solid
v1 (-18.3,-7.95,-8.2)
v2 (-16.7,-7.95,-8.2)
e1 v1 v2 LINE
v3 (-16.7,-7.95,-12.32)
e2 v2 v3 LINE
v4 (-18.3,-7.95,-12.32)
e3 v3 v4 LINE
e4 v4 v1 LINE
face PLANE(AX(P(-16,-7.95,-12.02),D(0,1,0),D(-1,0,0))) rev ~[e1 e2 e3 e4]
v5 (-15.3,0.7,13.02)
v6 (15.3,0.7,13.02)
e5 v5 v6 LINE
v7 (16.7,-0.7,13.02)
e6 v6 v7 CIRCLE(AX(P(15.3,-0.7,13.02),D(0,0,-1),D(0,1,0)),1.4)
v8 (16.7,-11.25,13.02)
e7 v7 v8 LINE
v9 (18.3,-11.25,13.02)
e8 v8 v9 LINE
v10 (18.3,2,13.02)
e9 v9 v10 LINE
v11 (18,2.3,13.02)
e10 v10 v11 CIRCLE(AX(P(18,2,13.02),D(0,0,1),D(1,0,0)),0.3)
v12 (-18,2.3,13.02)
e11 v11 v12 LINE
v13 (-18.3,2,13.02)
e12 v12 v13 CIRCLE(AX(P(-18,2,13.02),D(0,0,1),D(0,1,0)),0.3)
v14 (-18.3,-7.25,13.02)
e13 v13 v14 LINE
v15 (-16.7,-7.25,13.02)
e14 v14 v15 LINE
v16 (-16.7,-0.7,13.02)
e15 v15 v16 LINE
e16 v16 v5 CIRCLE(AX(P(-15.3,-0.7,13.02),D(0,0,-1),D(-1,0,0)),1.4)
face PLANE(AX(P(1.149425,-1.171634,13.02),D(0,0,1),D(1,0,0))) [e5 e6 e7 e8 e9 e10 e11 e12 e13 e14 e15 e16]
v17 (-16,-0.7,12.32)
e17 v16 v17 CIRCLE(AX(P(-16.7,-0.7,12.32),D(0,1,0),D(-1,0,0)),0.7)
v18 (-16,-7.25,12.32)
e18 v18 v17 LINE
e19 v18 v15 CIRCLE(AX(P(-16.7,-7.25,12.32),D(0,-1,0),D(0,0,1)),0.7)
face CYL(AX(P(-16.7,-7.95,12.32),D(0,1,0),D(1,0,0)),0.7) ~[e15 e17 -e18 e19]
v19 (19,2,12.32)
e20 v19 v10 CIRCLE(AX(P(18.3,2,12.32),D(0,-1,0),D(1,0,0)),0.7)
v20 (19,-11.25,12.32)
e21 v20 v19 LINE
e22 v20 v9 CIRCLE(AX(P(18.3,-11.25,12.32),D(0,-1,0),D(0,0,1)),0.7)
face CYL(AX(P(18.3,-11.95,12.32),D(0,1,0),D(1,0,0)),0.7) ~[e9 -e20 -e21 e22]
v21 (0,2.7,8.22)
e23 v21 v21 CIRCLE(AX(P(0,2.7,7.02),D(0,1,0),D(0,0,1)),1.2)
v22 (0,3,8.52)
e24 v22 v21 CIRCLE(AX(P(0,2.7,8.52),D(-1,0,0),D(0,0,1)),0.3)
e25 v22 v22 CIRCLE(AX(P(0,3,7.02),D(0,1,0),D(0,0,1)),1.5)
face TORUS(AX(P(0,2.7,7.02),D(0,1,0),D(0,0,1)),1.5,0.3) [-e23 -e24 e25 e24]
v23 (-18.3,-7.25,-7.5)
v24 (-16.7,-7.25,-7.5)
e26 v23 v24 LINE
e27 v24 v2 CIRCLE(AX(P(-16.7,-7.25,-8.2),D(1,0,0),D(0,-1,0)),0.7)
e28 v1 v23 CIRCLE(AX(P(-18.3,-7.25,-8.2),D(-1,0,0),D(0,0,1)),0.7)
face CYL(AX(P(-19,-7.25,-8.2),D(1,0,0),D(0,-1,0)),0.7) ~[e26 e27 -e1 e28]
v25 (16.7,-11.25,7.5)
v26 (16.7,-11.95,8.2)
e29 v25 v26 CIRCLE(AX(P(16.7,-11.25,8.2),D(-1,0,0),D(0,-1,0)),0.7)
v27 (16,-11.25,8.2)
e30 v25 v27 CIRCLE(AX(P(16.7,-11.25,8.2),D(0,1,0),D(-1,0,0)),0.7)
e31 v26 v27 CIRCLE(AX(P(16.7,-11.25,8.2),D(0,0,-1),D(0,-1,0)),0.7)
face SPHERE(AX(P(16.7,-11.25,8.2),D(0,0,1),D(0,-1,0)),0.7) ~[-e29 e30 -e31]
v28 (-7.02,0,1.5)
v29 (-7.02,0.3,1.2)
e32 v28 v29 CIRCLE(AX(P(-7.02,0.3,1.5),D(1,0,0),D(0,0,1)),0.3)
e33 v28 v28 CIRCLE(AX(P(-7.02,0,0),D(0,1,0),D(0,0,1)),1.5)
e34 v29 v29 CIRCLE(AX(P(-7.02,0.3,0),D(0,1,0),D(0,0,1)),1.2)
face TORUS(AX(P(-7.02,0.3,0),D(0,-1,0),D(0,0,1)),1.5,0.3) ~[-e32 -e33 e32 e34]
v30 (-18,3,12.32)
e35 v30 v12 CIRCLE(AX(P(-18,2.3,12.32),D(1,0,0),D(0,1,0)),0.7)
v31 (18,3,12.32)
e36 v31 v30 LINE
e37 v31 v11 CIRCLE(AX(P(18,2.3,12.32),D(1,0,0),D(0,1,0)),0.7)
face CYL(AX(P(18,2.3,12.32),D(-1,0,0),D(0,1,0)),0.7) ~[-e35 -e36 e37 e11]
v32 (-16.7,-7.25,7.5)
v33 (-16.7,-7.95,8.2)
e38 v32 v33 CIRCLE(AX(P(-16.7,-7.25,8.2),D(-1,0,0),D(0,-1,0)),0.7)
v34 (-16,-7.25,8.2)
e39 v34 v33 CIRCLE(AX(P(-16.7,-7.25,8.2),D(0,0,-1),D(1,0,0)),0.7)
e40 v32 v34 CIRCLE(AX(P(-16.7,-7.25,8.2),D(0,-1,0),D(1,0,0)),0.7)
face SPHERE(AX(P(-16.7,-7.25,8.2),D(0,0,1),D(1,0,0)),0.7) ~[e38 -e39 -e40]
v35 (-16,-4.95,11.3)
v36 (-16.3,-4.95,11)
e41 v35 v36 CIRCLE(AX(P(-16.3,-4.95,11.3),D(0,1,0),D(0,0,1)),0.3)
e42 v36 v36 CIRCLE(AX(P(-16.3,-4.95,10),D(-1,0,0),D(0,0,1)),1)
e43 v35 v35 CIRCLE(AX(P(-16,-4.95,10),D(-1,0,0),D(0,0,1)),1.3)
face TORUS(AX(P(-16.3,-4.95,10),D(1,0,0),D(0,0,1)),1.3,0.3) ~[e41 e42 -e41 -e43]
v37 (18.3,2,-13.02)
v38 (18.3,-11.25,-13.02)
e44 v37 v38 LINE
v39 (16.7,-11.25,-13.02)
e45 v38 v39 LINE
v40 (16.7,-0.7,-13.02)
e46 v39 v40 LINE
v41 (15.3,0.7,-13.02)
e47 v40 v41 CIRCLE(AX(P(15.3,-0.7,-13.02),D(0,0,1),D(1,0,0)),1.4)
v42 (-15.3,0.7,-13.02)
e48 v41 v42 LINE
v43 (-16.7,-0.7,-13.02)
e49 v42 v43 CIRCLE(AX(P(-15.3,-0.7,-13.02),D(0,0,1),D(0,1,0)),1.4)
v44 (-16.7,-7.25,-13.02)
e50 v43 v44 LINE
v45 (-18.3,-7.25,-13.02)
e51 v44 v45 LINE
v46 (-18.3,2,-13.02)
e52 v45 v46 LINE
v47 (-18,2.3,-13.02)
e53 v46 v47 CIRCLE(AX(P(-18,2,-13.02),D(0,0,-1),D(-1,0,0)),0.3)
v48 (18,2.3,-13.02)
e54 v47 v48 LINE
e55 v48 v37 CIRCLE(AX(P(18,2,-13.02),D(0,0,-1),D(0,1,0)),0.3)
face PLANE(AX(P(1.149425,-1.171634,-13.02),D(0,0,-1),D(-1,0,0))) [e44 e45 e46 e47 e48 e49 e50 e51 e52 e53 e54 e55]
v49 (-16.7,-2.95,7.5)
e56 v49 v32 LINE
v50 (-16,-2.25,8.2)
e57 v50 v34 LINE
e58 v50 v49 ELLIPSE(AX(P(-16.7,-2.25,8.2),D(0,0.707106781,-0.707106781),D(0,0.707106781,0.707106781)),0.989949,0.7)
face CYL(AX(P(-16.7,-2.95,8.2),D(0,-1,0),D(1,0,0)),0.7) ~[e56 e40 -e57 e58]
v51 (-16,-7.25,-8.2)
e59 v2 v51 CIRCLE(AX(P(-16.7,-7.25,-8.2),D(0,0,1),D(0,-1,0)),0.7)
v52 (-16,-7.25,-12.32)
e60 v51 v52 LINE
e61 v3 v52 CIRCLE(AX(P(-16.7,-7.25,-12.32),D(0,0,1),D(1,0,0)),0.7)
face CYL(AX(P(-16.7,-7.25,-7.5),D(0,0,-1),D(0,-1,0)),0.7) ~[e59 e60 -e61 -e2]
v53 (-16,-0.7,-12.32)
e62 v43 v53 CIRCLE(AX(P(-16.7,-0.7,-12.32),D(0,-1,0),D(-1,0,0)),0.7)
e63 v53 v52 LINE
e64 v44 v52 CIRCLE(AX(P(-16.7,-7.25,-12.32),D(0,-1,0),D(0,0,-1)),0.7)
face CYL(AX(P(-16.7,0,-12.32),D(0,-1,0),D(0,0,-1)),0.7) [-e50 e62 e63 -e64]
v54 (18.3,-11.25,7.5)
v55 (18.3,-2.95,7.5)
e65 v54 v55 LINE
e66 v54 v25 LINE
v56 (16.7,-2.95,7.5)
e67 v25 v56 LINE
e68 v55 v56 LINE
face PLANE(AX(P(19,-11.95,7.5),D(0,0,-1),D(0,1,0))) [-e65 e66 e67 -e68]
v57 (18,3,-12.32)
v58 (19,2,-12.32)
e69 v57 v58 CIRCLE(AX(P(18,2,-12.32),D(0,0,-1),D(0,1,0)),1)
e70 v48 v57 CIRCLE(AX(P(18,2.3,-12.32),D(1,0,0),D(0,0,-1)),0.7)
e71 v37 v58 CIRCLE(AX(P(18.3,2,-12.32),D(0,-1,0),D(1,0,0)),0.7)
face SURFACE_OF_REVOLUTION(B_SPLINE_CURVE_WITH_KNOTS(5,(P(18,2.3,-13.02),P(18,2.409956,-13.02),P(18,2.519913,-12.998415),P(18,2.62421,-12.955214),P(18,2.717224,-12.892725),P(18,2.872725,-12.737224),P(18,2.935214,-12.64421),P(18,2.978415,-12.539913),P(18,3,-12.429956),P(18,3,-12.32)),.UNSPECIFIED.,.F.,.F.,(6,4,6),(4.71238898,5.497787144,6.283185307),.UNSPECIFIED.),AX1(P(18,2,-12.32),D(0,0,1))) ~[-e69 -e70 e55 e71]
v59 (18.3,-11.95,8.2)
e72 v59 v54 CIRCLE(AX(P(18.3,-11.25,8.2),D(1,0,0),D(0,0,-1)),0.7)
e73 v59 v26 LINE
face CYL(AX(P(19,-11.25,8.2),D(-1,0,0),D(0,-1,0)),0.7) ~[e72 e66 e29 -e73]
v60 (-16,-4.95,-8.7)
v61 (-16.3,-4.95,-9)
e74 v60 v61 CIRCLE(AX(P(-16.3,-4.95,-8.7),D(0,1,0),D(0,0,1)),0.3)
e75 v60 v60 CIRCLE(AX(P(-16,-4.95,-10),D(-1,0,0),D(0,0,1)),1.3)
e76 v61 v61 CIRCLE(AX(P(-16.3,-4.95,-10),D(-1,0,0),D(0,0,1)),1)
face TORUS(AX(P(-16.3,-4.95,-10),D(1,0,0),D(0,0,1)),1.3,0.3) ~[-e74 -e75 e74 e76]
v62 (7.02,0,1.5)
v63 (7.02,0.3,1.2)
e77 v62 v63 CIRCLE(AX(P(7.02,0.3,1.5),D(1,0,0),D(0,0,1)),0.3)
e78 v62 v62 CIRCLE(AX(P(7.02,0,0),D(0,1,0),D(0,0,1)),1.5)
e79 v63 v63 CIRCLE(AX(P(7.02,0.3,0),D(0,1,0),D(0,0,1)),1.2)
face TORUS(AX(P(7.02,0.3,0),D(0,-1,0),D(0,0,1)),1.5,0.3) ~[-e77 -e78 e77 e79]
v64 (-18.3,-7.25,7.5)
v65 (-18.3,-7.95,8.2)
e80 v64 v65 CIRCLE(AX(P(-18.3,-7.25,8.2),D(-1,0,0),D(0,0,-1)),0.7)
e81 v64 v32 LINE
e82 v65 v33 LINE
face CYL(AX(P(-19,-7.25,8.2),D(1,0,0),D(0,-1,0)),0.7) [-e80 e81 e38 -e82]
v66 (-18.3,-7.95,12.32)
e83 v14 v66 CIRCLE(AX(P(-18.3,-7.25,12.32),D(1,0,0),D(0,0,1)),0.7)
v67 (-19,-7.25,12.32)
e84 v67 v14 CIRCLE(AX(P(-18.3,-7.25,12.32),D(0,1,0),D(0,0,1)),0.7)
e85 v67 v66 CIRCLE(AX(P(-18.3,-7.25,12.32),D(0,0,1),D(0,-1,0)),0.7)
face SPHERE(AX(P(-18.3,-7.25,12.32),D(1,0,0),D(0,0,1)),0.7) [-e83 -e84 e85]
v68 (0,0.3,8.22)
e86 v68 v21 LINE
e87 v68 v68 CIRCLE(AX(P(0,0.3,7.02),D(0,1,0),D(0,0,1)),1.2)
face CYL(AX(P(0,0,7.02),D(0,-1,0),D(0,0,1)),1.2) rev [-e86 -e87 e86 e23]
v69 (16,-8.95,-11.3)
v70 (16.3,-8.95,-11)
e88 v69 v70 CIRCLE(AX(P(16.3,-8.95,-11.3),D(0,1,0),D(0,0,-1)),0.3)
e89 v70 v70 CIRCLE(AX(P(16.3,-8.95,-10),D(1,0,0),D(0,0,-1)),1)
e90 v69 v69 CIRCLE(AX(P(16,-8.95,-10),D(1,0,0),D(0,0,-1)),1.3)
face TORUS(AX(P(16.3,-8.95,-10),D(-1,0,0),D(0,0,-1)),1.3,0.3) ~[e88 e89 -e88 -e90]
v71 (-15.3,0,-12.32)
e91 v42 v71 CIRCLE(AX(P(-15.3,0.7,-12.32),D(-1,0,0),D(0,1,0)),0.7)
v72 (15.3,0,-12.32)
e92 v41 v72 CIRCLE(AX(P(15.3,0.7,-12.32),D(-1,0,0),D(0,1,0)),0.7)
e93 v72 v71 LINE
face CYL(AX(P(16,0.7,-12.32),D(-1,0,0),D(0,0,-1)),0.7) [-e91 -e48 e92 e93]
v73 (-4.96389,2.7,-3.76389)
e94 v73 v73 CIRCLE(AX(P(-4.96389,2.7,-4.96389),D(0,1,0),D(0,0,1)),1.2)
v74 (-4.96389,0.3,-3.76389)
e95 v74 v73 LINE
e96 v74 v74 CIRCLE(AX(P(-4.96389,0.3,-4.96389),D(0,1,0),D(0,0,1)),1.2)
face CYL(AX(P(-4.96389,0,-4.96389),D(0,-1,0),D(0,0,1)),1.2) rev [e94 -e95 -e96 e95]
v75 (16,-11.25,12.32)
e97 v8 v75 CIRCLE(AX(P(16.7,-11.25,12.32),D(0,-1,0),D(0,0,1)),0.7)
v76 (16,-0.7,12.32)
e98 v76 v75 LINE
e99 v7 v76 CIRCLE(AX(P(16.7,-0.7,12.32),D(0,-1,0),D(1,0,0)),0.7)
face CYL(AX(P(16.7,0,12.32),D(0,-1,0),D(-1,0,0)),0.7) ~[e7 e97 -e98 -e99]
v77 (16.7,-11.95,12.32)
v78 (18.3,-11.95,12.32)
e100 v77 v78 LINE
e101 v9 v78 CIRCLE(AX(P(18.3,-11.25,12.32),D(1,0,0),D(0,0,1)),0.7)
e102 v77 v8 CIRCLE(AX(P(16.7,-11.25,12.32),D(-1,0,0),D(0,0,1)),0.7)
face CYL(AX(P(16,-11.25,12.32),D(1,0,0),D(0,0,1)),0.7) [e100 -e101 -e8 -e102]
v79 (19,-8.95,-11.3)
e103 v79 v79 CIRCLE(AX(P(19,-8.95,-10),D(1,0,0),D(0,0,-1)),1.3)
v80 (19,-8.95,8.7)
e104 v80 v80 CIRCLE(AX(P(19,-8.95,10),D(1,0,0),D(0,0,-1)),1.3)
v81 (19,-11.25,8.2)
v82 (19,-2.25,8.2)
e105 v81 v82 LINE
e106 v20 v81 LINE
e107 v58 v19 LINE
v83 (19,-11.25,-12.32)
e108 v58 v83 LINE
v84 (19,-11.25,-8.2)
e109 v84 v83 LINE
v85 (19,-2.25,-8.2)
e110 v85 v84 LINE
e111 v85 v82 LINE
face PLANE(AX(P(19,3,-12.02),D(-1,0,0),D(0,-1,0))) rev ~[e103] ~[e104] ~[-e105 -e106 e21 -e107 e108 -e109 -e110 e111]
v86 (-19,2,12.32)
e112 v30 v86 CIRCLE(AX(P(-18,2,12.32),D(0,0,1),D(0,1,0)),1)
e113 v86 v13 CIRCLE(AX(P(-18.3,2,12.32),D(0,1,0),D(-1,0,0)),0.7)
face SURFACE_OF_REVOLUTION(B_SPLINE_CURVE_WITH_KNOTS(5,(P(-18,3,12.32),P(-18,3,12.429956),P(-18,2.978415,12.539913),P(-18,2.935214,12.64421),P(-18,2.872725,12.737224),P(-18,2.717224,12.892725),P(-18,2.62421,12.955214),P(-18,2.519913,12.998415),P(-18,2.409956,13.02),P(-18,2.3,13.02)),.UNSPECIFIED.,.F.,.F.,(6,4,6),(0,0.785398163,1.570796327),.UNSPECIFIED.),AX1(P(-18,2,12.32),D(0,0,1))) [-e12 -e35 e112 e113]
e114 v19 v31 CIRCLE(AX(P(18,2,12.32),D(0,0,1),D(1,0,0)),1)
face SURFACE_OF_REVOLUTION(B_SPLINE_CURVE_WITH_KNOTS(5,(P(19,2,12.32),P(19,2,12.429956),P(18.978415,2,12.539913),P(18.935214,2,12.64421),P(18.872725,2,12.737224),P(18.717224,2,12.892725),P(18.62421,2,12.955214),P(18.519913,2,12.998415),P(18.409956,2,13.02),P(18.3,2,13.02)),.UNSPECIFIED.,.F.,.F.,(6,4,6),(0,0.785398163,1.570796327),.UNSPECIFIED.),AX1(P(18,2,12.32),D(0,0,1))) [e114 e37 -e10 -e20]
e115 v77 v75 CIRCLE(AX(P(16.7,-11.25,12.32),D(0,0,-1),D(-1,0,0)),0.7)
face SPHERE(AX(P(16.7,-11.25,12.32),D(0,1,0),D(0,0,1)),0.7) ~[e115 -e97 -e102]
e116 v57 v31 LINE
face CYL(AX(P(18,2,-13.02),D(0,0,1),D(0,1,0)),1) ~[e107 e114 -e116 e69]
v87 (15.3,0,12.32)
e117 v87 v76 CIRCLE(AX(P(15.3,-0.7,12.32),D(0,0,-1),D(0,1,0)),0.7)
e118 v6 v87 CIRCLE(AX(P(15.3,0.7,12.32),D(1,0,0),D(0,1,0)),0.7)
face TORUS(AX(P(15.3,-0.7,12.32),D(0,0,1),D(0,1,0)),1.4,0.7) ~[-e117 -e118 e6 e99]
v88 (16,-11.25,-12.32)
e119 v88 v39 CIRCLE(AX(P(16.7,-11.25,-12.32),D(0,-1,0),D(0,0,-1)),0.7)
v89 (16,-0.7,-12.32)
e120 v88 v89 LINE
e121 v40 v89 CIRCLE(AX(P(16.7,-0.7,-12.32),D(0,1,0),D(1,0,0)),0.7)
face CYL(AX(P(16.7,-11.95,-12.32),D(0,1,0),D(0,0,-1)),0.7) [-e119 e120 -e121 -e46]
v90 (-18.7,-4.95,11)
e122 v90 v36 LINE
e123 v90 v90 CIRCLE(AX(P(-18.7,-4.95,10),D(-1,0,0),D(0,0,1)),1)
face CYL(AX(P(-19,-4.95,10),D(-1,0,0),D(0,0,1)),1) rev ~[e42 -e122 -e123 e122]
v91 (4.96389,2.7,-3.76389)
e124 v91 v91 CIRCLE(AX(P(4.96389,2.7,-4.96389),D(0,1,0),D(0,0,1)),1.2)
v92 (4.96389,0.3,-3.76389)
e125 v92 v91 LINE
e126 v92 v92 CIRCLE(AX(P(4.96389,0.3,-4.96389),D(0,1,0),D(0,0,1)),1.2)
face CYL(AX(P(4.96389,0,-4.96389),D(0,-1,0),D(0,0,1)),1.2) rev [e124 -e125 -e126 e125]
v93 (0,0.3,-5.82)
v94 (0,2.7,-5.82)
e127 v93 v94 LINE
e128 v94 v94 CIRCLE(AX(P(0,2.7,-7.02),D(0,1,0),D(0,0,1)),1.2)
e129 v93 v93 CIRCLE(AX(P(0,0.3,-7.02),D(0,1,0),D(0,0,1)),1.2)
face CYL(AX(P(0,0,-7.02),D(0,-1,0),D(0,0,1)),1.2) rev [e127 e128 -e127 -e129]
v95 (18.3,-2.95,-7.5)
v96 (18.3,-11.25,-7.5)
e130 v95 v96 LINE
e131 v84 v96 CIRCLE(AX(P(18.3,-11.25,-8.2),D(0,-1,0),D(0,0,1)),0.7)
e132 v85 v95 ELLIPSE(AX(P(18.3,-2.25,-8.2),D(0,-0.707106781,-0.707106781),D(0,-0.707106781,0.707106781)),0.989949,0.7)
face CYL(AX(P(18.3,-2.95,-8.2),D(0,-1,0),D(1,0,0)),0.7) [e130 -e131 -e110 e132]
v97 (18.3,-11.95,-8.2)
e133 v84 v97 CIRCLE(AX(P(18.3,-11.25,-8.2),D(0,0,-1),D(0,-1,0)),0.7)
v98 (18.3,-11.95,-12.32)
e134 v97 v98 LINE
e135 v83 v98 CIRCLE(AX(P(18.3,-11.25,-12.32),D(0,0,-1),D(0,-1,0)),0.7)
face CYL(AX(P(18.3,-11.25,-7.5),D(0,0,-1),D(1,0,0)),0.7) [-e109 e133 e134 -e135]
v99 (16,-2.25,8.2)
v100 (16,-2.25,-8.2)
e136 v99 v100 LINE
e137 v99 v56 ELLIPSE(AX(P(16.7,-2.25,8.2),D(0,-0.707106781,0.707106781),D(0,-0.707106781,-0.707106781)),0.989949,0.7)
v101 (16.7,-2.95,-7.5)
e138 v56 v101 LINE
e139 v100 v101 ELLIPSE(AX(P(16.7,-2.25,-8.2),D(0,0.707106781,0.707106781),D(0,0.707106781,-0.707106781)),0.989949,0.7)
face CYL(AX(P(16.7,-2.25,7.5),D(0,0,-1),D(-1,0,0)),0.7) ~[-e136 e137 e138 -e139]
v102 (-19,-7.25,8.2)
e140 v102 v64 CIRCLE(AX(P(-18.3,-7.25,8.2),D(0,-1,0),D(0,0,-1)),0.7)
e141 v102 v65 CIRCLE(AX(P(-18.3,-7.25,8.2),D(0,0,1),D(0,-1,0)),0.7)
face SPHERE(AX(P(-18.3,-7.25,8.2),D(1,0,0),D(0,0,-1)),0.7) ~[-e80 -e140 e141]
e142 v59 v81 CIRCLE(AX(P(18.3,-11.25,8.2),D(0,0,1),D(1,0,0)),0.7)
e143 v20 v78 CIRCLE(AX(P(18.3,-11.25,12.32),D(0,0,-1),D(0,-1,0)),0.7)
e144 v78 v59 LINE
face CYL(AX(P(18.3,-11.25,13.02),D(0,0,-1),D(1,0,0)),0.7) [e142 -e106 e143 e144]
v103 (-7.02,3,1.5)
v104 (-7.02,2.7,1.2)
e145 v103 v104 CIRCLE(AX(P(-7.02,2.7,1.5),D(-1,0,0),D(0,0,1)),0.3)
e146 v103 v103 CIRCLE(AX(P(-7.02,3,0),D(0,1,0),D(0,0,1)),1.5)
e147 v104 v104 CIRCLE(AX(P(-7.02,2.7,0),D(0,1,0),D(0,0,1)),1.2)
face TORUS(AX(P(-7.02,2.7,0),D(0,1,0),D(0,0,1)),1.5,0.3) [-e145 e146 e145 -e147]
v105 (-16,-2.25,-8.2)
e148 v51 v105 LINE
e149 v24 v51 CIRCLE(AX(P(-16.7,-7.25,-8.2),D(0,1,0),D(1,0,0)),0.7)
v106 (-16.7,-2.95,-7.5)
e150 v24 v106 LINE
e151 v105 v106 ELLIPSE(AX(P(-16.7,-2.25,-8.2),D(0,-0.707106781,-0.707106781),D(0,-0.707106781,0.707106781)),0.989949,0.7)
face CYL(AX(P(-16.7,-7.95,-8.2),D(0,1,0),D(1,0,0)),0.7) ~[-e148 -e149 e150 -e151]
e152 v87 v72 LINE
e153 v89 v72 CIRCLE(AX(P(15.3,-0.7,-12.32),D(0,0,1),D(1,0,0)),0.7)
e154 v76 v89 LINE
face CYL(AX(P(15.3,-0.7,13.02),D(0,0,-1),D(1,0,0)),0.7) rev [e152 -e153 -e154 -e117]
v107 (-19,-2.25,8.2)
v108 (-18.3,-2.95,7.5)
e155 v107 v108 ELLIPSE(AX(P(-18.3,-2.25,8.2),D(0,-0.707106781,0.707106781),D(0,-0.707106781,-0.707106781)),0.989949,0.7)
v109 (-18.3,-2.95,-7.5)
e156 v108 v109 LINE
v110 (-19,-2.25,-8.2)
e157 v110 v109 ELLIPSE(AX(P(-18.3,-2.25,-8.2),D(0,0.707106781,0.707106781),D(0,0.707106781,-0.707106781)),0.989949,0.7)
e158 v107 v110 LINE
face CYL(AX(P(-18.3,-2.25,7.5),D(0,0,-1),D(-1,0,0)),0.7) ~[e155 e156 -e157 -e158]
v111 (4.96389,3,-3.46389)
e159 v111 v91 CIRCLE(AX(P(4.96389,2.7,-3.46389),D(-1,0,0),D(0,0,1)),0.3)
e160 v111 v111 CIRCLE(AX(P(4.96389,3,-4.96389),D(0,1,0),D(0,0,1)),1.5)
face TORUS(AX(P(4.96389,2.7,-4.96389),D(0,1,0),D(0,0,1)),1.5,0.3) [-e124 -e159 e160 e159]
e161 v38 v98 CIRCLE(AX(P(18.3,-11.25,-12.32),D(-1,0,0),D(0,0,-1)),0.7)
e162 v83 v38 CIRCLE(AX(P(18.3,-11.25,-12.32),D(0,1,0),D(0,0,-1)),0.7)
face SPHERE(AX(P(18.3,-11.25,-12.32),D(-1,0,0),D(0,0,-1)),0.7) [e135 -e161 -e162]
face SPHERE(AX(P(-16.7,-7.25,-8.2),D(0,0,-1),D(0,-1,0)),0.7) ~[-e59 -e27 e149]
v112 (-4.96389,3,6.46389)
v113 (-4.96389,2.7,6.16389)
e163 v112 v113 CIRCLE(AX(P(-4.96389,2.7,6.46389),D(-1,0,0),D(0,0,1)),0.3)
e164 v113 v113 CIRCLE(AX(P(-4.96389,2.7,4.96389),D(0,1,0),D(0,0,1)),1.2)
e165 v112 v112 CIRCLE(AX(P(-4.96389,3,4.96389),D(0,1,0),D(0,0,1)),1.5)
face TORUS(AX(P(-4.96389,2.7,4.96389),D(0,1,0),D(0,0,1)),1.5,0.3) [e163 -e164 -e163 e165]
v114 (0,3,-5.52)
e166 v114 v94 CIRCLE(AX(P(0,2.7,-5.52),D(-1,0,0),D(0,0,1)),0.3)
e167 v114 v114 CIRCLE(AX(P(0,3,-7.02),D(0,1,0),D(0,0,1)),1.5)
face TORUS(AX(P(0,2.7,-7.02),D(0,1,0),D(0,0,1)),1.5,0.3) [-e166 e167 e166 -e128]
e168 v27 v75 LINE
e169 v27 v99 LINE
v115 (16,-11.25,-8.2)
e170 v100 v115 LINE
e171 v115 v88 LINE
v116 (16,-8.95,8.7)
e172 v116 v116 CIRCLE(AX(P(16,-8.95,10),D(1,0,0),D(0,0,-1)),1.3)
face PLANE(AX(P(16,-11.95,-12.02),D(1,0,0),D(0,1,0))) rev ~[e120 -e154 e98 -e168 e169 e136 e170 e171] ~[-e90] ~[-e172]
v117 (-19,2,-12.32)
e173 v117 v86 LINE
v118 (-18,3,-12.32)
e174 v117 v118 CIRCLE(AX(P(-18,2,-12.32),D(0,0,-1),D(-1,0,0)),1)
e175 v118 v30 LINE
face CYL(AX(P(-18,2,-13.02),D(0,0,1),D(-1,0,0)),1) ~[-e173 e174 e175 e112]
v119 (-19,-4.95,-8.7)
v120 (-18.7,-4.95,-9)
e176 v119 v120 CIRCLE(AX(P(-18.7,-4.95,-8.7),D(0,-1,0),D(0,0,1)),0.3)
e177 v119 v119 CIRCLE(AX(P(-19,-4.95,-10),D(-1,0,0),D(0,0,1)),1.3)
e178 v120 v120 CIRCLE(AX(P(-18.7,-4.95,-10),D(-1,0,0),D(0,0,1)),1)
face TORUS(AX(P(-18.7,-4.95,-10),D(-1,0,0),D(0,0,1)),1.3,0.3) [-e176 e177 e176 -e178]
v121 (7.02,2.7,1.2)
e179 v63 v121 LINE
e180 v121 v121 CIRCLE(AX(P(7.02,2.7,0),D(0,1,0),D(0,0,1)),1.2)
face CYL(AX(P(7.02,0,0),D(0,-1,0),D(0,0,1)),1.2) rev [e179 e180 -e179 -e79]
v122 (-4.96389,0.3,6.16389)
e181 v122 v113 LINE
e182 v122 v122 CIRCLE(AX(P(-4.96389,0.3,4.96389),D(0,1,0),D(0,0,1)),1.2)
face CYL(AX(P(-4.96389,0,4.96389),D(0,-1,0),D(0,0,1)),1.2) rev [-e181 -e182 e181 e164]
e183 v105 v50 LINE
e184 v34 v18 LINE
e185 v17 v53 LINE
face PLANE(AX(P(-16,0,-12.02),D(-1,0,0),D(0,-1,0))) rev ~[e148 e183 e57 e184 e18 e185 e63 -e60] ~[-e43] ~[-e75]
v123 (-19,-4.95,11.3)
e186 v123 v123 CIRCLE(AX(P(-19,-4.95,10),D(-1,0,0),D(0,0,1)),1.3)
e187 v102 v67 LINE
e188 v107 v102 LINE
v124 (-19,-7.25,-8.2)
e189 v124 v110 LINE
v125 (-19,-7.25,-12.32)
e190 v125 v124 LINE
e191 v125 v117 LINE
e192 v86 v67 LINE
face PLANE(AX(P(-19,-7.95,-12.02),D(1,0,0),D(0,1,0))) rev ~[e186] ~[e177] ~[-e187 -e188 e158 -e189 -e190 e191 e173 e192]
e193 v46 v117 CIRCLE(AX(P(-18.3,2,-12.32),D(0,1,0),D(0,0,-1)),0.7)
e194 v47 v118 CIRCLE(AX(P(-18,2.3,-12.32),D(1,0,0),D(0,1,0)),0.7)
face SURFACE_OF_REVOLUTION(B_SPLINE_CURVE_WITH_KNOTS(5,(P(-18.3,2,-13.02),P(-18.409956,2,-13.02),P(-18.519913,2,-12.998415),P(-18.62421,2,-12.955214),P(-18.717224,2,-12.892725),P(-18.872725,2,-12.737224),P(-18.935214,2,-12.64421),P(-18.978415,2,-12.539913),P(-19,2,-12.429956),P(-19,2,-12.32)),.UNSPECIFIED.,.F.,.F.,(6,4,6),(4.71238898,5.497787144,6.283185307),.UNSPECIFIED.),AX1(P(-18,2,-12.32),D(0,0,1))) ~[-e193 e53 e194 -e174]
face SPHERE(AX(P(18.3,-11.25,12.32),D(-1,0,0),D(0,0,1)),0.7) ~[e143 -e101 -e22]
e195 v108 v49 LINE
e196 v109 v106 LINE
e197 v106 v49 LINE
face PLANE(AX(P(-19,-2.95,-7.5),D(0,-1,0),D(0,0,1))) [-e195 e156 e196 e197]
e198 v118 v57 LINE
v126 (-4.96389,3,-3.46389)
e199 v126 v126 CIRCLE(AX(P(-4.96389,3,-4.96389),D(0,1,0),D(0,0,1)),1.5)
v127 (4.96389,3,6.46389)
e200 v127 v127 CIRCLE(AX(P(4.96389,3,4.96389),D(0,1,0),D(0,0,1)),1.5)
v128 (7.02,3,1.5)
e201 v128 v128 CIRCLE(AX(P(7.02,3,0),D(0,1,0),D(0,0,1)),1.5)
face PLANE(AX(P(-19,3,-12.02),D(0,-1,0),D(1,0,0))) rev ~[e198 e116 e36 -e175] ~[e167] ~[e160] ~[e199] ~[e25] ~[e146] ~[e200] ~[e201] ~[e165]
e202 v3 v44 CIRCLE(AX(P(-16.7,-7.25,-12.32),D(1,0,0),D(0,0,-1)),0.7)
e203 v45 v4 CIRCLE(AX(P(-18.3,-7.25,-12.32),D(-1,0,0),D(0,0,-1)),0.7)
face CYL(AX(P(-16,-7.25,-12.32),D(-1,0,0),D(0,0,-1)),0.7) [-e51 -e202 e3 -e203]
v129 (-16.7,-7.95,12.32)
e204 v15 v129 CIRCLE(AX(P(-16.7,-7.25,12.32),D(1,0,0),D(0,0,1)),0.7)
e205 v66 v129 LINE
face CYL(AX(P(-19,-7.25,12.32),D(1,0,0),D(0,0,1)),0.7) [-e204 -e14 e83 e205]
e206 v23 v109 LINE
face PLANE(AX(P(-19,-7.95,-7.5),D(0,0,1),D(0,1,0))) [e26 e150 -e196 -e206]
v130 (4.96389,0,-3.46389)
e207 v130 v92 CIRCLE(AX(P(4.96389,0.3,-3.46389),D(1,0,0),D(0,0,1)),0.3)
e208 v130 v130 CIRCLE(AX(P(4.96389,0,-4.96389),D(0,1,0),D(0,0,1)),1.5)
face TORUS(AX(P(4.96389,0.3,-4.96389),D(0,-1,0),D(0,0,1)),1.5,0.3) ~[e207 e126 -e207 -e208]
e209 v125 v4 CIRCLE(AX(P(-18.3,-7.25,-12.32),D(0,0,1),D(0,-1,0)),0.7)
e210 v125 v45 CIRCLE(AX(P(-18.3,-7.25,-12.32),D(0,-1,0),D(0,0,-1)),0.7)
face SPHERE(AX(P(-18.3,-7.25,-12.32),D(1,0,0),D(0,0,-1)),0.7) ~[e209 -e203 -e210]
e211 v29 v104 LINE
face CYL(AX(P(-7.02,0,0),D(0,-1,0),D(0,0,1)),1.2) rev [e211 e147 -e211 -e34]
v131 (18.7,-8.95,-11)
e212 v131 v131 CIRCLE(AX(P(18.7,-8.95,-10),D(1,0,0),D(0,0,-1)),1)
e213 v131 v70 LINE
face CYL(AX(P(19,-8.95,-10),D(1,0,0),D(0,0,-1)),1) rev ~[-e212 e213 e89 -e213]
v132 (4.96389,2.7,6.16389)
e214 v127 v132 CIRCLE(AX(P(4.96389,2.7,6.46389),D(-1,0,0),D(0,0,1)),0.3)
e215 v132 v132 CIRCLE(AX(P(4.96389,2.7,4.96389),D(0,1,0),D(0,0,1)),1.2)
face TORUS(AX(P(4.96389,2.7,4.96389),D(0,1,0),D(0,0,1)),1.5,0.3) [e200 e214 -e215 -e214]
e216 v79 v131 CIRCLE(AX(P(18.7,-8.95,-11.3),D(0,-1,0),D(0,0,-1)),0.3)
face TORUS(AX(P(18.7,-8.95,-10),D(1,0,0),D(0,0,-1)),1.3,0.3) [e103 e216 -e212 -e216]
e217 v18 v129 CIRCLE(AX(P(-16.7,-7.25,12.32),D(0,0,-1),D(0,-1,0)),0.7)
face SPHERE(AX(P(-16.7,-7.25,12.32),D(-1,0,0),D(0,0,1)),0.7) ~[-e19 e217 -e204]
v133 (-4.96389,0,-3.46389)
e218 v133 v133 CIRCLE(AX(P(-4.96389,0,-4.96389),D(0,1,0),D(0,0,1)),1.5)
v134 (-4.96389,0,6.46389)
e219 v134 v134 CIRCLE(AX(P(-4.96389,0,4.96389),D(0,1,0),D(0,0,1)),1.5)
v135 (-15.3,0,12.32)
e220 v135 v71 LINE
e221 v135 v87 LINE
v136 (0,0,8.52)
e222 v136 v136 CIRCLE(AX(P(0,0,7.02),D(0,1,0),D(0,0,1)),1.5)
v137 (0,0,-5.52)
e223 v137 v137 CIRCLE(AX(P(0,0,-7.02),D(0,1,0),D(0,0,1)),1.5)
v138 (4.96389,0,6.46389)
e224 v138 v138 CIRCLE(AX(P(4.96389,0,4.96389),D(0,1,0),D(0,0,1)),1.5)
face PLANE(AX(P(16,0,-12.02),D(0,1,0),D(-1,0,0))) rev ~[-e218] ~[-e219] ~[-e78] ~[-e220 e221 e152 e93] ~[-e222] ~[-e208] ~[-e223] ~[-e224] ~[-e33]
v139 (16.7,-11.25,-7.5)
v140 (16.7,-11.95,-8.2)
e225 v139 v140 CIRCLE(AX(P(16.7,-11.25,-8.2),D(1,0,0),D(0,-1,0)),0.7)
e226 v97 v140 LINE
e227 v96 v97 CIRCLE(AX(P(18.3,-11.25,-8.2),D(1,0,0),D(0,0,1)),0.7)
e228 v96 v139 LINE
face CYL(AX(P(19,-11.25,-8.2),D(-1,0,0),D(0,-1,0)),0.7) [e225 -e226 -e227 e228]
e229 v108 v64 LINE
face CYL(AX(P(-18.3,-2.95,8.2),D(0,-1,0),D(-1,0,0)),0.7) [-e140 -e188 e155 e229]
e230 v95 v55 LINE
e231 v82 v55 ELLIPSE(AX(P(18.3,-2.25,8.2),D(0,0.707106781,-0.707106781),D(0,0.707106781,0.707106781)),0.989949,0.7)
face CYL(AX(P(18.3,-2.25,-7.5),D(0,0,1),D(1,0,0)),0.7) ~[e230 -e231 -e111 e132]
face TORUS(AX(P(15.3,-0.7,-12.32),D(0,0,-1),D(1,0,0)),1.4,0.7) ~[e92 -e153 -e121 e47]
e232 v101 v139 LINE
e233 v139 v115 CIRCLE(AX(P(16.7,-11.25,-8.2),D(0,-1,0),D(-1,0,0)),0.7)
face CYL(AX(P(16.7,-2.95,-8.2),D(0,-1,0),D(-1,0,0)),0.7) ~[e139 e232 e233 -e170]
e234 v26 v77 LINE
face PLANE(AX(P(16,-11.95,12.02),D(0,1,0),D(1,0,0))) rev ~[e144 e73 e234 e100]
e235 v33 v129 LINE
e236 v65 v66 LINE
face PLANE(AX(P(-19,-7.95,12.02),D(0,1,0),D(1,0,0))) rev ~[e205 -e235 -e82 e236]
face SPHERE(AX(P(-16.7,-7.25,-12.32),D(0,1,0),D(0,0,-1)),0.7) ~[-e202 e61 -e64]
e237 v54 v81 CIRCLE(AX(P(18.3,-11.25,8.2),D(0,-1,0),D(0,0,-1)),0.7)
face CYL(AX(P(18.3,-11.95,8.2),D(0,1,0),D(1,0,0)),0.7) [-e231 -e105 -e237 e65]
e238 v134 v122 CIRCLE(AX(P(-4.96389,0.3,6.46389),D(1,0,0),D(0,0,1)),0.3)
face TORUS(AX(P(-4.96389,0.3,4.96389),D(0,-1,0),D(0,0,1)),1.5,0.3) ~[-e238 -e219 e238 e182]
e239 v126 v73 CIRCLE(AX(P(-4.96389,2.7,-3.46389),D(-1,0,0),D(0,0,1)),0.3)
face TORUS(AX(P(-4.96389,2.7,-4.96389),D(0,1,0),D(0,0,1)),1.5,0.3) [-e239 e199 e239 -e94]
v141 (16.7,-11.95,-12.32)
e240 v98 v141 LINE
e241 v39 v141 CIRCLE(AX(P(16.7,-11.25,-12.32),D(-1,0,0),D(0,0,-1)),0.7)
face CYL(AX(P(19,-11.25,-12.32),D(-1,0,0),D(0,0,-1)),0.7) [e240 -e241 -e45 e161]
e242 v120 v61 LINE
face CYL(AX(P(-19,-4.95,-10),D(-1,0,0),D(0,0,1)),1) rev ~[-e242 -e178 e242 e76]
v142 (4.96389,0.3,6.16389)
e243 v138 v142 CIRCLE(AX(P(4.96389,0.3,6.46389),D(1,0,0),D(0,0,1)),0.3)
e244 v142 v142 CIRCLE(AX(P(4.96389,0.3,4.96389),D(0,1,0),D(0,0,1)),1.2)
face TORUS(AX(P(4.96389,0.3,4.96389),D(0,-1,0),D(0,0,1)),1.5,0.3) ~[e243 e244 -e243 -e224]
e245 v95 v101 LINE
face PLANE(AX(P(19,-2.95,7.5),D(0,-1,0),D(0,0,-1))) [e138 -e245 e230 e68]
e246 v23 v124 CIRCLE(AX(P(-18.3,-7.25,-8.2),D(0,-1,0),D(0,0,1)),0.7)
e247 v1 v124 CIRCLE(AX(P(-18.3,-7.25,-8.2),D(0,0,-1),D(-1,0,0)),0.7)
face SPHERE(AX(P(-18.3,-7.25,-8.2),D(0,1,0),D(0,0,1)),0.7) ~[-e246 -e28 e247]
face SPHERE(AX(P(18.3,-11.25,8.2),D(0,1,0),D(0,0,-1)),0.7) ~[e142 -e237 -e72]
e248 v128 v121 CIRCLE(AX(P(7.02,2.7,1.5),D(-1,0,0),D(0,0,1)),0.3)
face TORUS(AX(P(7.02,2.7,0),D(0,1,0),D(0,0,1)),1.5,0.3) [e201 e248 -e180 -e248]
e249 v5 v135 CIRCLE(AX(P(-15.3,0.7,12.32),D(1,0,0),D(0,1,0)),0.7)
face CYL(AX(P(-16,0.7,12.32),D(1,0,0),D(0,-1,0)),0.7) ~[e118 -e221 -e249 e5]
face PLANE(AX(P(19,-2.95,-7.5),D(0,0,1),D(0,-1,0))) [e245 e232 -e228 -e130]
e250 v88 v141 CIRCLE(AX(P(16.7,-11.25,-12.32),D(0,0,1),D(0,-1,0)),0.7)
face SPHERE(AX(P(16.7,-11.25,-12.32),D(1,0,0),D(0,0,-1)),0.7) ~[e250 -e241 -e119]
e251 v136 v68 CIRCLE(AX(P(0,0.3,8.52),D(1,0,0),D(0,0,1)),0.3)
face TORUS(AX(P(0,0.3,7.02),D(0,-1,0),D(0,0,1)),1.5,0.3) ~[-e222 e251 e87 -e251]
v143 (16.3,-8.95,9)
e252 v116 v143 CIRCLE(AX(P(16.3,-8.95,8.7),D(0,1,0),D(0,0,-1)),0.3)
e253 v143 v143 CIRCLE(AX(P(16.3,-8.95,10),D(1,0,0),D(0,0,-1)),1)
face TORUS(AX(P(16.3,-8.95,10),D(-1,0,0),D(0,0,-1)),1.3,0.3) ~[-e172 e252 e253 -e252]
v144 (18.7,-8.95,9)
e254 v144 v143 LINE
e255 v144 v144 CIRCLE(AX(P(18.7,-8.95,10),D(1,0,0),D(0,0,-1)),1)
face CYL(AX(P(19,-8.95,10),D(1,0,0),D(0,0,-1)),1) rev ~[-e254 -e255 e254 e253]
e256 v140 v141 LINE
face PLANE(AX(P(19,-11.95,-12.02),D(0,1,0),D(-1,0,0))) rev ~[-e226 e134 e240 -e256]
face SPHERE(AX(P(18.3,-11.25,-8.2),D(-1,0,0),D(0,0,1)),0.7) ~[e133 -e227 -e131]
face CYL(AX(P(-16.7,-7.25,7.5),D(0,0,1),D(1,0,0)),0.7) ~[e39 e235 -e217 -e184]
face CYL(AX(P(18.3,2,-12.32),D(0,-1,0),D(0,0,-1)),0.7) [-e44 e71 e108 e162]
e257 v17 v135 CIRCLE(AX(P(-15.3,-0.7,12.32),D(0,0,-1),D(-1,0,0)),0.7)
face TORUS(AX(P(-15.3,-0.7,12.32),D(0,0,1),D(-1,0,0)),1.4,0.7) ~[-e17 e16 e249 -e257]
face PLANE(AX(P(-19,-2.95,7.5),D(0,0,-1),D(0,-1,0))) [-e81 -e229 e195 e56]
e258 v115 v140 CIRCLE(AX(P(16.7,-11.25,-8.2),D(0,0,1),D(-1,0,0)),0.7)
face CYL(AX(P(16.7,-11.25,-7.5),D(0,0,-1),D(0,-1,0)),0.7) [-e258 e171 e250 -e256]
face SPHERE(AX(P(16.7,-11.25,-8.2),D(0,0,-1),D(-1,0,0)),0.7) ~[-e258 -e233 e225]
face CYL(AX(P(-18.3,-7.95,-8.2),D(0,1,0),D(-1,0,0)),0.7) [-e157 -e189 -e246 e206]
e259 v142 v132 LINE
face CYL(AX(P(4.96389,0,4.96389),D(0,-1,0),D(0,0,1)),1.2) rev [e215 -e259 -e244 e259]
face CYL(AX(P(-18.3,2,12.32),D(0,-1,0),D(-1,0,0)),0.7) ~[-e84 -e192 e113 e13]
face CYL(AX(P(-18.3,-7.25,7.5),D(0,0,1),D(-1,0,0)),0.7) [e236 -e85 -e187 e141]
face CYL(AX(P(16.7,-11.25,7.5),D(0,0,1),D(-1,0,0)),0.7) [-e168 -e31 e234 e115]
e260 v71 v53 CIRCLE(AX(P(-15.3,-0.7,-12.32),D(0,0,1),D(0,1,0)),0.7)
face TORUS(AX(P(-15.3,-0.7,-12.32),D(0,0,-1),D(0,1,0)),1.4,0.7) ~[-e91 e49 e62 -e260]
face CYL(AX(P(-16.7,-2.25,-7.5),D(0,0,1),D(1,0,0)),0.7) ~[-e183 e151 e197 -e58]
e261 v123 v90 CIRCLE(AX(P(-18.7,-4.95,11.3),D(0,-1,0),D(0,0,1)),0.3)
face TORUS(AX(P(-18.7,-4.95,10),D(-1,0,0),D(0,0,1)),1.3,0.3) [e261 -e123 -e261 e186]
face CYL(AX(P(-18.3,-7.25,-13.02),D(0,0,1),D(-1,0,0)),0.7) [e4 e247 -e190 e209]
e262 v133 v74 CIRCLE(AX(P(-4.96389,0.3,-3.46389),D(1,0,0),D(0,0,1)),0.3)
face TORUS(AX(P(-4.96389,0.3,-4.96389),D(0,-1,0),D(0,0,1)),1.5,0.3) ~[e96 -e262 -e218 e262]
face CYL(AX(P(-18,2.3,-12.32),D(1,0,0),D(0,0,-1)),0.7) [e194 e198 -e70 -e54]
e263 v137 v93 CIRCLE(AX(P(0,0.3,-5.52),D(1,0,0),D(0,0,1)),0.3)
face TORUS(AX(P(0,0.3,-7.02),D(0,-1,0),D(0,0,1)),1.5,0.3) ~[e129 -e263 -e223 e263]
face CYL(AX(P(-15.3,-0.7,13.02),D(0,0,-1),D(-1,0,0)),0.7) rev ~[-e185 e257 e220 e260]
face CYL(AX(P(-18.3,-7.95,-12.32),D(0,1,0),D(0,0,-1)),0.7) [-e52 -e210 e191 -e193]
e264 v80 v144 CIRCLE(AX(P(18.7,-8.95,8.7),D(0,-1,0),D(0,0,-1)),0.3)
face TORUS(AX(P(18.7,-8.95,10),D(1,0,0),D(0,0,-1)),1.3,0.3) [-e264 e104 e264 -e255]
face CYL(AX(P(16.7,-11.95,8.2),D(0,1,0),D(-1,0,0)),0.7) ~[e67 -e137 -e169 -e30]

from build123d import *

# Parameters (mm, degrees)
SKETCH1_W           = 38
SKETCH1_H           = 24.04
SKETCH1_R           = 1.2
BOSS_EXTRUDE1_DEPTH = 3
SKETCH2_R           = 1
BOSS_EXTRUDE2_DEPTH = 3
SKETCH3_R           = 1
BOSS_EXTRUDE3_DEPTH = 3
EXTRUDE_1_DEPTH     = 1
EXTRUDE_2_DEPTH     = 1
FILLET_1_R          = 1
FILLET_2_R          = 1
FILLET_3_R          = 0.7
FILLET_4_R          = 0.3


with BuildPart() as part:
    # Sketch1 → Boss-Extrude1 (new body)
    with BuildSketch(Plane(origin=(0, 0, 0), x_dir=(1, 0, 0), z_dir=(0, 1, 0))):
        Rectangle(SKETCH1_W, SKETCH1_H)
        with Locations(Location((0, 7.02, 0), (0, 0, 270))):
            Circle(SKETCH1_R, mode=Mode.SUBTRACT)
        with Locations(Location((4.963889604, 4.963889604, 0), (0, 0, 270))):
            Circle(SKETCH1_R, mode=Mode.SUBTRACT)
        with Locations(Location((7.02, 0, 0), (0, 0, 270))):
            Circle(SKETCH1_R, mode=Mode.SUBTRACT)
        with Locations(Location((4.963889604, -4.963889604, 0), (0, 0, 270))):
            Circle(SKETCH1_R, mode=Mode.SUBTRACT)
        with Locations(Location((0, -7.02, 0), (0, 0, 270))):
            Circle(SKETCH1_R, mode=Mode.SUBTRACT)
        with Locations(Location((-4.963889604, -4.963889604, 0), (0, 0, 270))):
            Circle(SKETCH1_R, mode=Mode.SUBTRACT)
        with Locations(Location((-7.02, 0, 0), (0, 0, 270))):
            Circle(SKETCH1_R, mode=Mode.SUBTRACT)
        with Locations(Location((-4.963889604, 4.963889604, 0), (0, 0, 270))):
            Circle(SKETCH1_R, mode=Mode.SUBTRACT)
    extrude(amount=BOSS_EXTRUDE1_DEPTH)

    # Sketch2 → Boss-Extrude2 (add)
    # profile 1 of 2: a face of its own
    with BuildSketch(Plane(origin=(19, 0, 0), x_dir=(0, 0, -1), z_dir=(1, 0, 0))):
        Polygon((-7.5, -2.95), (0, -2.95), (0, 0), (-12.02, 0), (-12.02, -11.95), (-7.5, -11.95), align=None)
        with Locations((-10, -8.95)):
            Circle(SKETCH2_R, mode=Mode.SUBTRACT)
    # profile 2 of 2: a face of its own
    with BuildSketch(Plane(origin=(19, 0, 0), x_dir=(0, 0, -1), z_dir=(1, 0, 0))):
        Polygon((7.5, -2.95), (7.5, -11.95), (12.02, -11.95), (12.02, 0), (0, 0), (0, -2.95), align=None)
        with Locations((10, -8.95)):
            Circle(SKETCH2_R, mode=Mode.SUBTRACT)
    extrude(amount=-BOSS_EXTRUDE2_DEPTH)

    # Sketch3 → Boss-Extrude3 (add)
    # profile 1 of 2: a face of its own
    with BuildSketch(Plane.ZY.offset(19)):
        Polygon((-7.5, -2.95), (0, -2.95), (0, 0), (-12.02, 0), (-12.02, -7.95), (-7.5, -7.95), align=None)
        with Locations((-10, -4.95)):
            Circle(SKETCH3_R, mode=Mode.SUBTRACT)
    # profile 2 of 2: a face of its own
    with BuildSketch(Plane.ZY.offset(19)):
        Polygon((7.5, -2.95), (7.5, -7.95), (12.02, -7.95), (12.02, 0), (0, 0), (0, -2.95), align=None)
        with Locations((10, -4.95)):
            Circle(SKETCH3_R, mode=Mode.SUBTRACT)
    extrude(amount=-BOSS_EXTRUDE3_DEPTH)

    # 草图1 → 凸台-拉伸1 (add)
    with BuildSketch(Plane.XY.offset(12.02)):
        Polygon((-19, 3), (-19, -7.95), (-16, -7.95), (-16, 0), (16, 0), (16, -11.95), (19, -11.95), (19, 3), align=None)
    extrude(amount=EXTRUDE_1_DEPTH)

    # 草图2 → 凸台-拉伸2 (add)
    with BuildSketch(Plane(origin=(0, 0, -12.02), x_dir=(-1, 0, 0), z_dir=(0, 0, -1))):
        Polygon((-19, 3), (-19, -11.95), (-16, -11.95), (-16, 0), (16, 0), (16, -7.95), (19, -7.95), (19, 3), align=None)
    extrude(amount=EXTRUDE_2_DEPTH)

    # 圆角1
    fillet_1_edges = [part.edges().sort_by_distance(p)[0] for p in [
        (-19, 3, 0),
    ]]
    fillet(fillet_1_edges, radius=FILLET_1_R)

    # 圆角2
    fillet_2_edges = [part.edges().sort_by_distance(p)[0] for p in [
        (19, 3, 0),
    ]]
    fillet(fillet_2_edges, radius=FILLET_2_R)

    # 圆角3
    fillet_3_edges = [part.edges().sort_by_distance(p)[0] for p in [
        (-17.5, -7.95, 13.02),
        (-16, -3.975, 13.02),
        (0, 0, 13.02),
        (16, -5.975, 13.02),
        (17.5, -11.95, 13.02),
        (19, -4.975, 13.02),
        (17.5, -11.95, -13.02),
        (16, -5.975, -13.02),
        (0, 0, -13.02),
        (-16, -3.975, -13.02),
        (-17.5, -7.95, -13.02),
        (-19, -2.975, -13.02),
        (-19, -2.975, 13.02),
        (0, 3, -13.02),
        (-18.707106781, 2.707106781, 13.02),
        (-18.707106781, 2.707106781, -13.02),
        (0, 3, 13.02),
        (19, -4.975, -13.02),
        (18.707106781, 2.707106781, 13.02),
        (18.707106781, 2.707106781, -13.02),
        (16, -2.95, 0),
        (19, -7.45, 7.5),
        (16, -11.95, 10.26),
        (17.5, -11.95, 7.5),
        (16, -11.95, -10.26),
        (16, -7.45, -7.5),
        (17.5, -11.95, -7.5),
        (16, -7.45, 7.5),
        (16, 0, 0),
        (19, -2.95, 0),
        (19, -7.45, -7.5),
        (19, -11.95, -10.26),
        (19, -11.95, 10.26),
        (-16, -2.95, 0),
        (-19, -5.45, -7.5),
        (-16, -7.95, -10.26),
        (-17.5, -7.95, -7.5),
        (-16, -7.95, 10.26),
        (-16, -5.45, 7.5),
        (-17.5, -7.95, 7.5),
        (-16, -5.45, -7.5),
        (-16, 0, 0),
        (-19, -2.95, 0),
        (-19, -5.45, 7.5),
        (-19, -7.95, 10.26),
        (-19, -7.95, -10.26),
    ]]
    fillet(fillet_3_edges, radius=FILLET_3_R)

    # 圆角4
    fillet_4_edges = [part.edges().sort_by_distance(p)[0] for p in [
        (0, 0, -8.22),
        (0, 3, -8.22),
        (4.963889604, 0, -6.163889604),
        (4.963889604, 3, -6.163889604),
        (7.02, 0, -1.2),
        (7.02, 3, -1.2),
        (4.963889604, 0, 3.763889604),
        (4.963889604, 3, 3.763889604),
        (0, 0, 5.82),
        (0, 3, 5.82),
        (-4.963889604, 0, 3.763889604),
        (-4.963889604, 3, 3.763889604),
        (-7.02, 0, -1.2),
        (-7.02, 3, -1.2),
        (-4.963889604, 0, -6.163889604),
        (-4.963889604, 3, -6.163889604),
        (16, -8.95, 11),
        (19, -8.95, -9),
        (16, -8.95, -9),
        (19, -8.95, 11),
        (-16, -4.95, -11),
        (-19, -4.95, 9),
        (-16, -4.95, 9),
        (-19, -4.95, -11),
    ]]
    fillet(fillet_4_edges, radius=FILLET_4_R)


solid = part.part
